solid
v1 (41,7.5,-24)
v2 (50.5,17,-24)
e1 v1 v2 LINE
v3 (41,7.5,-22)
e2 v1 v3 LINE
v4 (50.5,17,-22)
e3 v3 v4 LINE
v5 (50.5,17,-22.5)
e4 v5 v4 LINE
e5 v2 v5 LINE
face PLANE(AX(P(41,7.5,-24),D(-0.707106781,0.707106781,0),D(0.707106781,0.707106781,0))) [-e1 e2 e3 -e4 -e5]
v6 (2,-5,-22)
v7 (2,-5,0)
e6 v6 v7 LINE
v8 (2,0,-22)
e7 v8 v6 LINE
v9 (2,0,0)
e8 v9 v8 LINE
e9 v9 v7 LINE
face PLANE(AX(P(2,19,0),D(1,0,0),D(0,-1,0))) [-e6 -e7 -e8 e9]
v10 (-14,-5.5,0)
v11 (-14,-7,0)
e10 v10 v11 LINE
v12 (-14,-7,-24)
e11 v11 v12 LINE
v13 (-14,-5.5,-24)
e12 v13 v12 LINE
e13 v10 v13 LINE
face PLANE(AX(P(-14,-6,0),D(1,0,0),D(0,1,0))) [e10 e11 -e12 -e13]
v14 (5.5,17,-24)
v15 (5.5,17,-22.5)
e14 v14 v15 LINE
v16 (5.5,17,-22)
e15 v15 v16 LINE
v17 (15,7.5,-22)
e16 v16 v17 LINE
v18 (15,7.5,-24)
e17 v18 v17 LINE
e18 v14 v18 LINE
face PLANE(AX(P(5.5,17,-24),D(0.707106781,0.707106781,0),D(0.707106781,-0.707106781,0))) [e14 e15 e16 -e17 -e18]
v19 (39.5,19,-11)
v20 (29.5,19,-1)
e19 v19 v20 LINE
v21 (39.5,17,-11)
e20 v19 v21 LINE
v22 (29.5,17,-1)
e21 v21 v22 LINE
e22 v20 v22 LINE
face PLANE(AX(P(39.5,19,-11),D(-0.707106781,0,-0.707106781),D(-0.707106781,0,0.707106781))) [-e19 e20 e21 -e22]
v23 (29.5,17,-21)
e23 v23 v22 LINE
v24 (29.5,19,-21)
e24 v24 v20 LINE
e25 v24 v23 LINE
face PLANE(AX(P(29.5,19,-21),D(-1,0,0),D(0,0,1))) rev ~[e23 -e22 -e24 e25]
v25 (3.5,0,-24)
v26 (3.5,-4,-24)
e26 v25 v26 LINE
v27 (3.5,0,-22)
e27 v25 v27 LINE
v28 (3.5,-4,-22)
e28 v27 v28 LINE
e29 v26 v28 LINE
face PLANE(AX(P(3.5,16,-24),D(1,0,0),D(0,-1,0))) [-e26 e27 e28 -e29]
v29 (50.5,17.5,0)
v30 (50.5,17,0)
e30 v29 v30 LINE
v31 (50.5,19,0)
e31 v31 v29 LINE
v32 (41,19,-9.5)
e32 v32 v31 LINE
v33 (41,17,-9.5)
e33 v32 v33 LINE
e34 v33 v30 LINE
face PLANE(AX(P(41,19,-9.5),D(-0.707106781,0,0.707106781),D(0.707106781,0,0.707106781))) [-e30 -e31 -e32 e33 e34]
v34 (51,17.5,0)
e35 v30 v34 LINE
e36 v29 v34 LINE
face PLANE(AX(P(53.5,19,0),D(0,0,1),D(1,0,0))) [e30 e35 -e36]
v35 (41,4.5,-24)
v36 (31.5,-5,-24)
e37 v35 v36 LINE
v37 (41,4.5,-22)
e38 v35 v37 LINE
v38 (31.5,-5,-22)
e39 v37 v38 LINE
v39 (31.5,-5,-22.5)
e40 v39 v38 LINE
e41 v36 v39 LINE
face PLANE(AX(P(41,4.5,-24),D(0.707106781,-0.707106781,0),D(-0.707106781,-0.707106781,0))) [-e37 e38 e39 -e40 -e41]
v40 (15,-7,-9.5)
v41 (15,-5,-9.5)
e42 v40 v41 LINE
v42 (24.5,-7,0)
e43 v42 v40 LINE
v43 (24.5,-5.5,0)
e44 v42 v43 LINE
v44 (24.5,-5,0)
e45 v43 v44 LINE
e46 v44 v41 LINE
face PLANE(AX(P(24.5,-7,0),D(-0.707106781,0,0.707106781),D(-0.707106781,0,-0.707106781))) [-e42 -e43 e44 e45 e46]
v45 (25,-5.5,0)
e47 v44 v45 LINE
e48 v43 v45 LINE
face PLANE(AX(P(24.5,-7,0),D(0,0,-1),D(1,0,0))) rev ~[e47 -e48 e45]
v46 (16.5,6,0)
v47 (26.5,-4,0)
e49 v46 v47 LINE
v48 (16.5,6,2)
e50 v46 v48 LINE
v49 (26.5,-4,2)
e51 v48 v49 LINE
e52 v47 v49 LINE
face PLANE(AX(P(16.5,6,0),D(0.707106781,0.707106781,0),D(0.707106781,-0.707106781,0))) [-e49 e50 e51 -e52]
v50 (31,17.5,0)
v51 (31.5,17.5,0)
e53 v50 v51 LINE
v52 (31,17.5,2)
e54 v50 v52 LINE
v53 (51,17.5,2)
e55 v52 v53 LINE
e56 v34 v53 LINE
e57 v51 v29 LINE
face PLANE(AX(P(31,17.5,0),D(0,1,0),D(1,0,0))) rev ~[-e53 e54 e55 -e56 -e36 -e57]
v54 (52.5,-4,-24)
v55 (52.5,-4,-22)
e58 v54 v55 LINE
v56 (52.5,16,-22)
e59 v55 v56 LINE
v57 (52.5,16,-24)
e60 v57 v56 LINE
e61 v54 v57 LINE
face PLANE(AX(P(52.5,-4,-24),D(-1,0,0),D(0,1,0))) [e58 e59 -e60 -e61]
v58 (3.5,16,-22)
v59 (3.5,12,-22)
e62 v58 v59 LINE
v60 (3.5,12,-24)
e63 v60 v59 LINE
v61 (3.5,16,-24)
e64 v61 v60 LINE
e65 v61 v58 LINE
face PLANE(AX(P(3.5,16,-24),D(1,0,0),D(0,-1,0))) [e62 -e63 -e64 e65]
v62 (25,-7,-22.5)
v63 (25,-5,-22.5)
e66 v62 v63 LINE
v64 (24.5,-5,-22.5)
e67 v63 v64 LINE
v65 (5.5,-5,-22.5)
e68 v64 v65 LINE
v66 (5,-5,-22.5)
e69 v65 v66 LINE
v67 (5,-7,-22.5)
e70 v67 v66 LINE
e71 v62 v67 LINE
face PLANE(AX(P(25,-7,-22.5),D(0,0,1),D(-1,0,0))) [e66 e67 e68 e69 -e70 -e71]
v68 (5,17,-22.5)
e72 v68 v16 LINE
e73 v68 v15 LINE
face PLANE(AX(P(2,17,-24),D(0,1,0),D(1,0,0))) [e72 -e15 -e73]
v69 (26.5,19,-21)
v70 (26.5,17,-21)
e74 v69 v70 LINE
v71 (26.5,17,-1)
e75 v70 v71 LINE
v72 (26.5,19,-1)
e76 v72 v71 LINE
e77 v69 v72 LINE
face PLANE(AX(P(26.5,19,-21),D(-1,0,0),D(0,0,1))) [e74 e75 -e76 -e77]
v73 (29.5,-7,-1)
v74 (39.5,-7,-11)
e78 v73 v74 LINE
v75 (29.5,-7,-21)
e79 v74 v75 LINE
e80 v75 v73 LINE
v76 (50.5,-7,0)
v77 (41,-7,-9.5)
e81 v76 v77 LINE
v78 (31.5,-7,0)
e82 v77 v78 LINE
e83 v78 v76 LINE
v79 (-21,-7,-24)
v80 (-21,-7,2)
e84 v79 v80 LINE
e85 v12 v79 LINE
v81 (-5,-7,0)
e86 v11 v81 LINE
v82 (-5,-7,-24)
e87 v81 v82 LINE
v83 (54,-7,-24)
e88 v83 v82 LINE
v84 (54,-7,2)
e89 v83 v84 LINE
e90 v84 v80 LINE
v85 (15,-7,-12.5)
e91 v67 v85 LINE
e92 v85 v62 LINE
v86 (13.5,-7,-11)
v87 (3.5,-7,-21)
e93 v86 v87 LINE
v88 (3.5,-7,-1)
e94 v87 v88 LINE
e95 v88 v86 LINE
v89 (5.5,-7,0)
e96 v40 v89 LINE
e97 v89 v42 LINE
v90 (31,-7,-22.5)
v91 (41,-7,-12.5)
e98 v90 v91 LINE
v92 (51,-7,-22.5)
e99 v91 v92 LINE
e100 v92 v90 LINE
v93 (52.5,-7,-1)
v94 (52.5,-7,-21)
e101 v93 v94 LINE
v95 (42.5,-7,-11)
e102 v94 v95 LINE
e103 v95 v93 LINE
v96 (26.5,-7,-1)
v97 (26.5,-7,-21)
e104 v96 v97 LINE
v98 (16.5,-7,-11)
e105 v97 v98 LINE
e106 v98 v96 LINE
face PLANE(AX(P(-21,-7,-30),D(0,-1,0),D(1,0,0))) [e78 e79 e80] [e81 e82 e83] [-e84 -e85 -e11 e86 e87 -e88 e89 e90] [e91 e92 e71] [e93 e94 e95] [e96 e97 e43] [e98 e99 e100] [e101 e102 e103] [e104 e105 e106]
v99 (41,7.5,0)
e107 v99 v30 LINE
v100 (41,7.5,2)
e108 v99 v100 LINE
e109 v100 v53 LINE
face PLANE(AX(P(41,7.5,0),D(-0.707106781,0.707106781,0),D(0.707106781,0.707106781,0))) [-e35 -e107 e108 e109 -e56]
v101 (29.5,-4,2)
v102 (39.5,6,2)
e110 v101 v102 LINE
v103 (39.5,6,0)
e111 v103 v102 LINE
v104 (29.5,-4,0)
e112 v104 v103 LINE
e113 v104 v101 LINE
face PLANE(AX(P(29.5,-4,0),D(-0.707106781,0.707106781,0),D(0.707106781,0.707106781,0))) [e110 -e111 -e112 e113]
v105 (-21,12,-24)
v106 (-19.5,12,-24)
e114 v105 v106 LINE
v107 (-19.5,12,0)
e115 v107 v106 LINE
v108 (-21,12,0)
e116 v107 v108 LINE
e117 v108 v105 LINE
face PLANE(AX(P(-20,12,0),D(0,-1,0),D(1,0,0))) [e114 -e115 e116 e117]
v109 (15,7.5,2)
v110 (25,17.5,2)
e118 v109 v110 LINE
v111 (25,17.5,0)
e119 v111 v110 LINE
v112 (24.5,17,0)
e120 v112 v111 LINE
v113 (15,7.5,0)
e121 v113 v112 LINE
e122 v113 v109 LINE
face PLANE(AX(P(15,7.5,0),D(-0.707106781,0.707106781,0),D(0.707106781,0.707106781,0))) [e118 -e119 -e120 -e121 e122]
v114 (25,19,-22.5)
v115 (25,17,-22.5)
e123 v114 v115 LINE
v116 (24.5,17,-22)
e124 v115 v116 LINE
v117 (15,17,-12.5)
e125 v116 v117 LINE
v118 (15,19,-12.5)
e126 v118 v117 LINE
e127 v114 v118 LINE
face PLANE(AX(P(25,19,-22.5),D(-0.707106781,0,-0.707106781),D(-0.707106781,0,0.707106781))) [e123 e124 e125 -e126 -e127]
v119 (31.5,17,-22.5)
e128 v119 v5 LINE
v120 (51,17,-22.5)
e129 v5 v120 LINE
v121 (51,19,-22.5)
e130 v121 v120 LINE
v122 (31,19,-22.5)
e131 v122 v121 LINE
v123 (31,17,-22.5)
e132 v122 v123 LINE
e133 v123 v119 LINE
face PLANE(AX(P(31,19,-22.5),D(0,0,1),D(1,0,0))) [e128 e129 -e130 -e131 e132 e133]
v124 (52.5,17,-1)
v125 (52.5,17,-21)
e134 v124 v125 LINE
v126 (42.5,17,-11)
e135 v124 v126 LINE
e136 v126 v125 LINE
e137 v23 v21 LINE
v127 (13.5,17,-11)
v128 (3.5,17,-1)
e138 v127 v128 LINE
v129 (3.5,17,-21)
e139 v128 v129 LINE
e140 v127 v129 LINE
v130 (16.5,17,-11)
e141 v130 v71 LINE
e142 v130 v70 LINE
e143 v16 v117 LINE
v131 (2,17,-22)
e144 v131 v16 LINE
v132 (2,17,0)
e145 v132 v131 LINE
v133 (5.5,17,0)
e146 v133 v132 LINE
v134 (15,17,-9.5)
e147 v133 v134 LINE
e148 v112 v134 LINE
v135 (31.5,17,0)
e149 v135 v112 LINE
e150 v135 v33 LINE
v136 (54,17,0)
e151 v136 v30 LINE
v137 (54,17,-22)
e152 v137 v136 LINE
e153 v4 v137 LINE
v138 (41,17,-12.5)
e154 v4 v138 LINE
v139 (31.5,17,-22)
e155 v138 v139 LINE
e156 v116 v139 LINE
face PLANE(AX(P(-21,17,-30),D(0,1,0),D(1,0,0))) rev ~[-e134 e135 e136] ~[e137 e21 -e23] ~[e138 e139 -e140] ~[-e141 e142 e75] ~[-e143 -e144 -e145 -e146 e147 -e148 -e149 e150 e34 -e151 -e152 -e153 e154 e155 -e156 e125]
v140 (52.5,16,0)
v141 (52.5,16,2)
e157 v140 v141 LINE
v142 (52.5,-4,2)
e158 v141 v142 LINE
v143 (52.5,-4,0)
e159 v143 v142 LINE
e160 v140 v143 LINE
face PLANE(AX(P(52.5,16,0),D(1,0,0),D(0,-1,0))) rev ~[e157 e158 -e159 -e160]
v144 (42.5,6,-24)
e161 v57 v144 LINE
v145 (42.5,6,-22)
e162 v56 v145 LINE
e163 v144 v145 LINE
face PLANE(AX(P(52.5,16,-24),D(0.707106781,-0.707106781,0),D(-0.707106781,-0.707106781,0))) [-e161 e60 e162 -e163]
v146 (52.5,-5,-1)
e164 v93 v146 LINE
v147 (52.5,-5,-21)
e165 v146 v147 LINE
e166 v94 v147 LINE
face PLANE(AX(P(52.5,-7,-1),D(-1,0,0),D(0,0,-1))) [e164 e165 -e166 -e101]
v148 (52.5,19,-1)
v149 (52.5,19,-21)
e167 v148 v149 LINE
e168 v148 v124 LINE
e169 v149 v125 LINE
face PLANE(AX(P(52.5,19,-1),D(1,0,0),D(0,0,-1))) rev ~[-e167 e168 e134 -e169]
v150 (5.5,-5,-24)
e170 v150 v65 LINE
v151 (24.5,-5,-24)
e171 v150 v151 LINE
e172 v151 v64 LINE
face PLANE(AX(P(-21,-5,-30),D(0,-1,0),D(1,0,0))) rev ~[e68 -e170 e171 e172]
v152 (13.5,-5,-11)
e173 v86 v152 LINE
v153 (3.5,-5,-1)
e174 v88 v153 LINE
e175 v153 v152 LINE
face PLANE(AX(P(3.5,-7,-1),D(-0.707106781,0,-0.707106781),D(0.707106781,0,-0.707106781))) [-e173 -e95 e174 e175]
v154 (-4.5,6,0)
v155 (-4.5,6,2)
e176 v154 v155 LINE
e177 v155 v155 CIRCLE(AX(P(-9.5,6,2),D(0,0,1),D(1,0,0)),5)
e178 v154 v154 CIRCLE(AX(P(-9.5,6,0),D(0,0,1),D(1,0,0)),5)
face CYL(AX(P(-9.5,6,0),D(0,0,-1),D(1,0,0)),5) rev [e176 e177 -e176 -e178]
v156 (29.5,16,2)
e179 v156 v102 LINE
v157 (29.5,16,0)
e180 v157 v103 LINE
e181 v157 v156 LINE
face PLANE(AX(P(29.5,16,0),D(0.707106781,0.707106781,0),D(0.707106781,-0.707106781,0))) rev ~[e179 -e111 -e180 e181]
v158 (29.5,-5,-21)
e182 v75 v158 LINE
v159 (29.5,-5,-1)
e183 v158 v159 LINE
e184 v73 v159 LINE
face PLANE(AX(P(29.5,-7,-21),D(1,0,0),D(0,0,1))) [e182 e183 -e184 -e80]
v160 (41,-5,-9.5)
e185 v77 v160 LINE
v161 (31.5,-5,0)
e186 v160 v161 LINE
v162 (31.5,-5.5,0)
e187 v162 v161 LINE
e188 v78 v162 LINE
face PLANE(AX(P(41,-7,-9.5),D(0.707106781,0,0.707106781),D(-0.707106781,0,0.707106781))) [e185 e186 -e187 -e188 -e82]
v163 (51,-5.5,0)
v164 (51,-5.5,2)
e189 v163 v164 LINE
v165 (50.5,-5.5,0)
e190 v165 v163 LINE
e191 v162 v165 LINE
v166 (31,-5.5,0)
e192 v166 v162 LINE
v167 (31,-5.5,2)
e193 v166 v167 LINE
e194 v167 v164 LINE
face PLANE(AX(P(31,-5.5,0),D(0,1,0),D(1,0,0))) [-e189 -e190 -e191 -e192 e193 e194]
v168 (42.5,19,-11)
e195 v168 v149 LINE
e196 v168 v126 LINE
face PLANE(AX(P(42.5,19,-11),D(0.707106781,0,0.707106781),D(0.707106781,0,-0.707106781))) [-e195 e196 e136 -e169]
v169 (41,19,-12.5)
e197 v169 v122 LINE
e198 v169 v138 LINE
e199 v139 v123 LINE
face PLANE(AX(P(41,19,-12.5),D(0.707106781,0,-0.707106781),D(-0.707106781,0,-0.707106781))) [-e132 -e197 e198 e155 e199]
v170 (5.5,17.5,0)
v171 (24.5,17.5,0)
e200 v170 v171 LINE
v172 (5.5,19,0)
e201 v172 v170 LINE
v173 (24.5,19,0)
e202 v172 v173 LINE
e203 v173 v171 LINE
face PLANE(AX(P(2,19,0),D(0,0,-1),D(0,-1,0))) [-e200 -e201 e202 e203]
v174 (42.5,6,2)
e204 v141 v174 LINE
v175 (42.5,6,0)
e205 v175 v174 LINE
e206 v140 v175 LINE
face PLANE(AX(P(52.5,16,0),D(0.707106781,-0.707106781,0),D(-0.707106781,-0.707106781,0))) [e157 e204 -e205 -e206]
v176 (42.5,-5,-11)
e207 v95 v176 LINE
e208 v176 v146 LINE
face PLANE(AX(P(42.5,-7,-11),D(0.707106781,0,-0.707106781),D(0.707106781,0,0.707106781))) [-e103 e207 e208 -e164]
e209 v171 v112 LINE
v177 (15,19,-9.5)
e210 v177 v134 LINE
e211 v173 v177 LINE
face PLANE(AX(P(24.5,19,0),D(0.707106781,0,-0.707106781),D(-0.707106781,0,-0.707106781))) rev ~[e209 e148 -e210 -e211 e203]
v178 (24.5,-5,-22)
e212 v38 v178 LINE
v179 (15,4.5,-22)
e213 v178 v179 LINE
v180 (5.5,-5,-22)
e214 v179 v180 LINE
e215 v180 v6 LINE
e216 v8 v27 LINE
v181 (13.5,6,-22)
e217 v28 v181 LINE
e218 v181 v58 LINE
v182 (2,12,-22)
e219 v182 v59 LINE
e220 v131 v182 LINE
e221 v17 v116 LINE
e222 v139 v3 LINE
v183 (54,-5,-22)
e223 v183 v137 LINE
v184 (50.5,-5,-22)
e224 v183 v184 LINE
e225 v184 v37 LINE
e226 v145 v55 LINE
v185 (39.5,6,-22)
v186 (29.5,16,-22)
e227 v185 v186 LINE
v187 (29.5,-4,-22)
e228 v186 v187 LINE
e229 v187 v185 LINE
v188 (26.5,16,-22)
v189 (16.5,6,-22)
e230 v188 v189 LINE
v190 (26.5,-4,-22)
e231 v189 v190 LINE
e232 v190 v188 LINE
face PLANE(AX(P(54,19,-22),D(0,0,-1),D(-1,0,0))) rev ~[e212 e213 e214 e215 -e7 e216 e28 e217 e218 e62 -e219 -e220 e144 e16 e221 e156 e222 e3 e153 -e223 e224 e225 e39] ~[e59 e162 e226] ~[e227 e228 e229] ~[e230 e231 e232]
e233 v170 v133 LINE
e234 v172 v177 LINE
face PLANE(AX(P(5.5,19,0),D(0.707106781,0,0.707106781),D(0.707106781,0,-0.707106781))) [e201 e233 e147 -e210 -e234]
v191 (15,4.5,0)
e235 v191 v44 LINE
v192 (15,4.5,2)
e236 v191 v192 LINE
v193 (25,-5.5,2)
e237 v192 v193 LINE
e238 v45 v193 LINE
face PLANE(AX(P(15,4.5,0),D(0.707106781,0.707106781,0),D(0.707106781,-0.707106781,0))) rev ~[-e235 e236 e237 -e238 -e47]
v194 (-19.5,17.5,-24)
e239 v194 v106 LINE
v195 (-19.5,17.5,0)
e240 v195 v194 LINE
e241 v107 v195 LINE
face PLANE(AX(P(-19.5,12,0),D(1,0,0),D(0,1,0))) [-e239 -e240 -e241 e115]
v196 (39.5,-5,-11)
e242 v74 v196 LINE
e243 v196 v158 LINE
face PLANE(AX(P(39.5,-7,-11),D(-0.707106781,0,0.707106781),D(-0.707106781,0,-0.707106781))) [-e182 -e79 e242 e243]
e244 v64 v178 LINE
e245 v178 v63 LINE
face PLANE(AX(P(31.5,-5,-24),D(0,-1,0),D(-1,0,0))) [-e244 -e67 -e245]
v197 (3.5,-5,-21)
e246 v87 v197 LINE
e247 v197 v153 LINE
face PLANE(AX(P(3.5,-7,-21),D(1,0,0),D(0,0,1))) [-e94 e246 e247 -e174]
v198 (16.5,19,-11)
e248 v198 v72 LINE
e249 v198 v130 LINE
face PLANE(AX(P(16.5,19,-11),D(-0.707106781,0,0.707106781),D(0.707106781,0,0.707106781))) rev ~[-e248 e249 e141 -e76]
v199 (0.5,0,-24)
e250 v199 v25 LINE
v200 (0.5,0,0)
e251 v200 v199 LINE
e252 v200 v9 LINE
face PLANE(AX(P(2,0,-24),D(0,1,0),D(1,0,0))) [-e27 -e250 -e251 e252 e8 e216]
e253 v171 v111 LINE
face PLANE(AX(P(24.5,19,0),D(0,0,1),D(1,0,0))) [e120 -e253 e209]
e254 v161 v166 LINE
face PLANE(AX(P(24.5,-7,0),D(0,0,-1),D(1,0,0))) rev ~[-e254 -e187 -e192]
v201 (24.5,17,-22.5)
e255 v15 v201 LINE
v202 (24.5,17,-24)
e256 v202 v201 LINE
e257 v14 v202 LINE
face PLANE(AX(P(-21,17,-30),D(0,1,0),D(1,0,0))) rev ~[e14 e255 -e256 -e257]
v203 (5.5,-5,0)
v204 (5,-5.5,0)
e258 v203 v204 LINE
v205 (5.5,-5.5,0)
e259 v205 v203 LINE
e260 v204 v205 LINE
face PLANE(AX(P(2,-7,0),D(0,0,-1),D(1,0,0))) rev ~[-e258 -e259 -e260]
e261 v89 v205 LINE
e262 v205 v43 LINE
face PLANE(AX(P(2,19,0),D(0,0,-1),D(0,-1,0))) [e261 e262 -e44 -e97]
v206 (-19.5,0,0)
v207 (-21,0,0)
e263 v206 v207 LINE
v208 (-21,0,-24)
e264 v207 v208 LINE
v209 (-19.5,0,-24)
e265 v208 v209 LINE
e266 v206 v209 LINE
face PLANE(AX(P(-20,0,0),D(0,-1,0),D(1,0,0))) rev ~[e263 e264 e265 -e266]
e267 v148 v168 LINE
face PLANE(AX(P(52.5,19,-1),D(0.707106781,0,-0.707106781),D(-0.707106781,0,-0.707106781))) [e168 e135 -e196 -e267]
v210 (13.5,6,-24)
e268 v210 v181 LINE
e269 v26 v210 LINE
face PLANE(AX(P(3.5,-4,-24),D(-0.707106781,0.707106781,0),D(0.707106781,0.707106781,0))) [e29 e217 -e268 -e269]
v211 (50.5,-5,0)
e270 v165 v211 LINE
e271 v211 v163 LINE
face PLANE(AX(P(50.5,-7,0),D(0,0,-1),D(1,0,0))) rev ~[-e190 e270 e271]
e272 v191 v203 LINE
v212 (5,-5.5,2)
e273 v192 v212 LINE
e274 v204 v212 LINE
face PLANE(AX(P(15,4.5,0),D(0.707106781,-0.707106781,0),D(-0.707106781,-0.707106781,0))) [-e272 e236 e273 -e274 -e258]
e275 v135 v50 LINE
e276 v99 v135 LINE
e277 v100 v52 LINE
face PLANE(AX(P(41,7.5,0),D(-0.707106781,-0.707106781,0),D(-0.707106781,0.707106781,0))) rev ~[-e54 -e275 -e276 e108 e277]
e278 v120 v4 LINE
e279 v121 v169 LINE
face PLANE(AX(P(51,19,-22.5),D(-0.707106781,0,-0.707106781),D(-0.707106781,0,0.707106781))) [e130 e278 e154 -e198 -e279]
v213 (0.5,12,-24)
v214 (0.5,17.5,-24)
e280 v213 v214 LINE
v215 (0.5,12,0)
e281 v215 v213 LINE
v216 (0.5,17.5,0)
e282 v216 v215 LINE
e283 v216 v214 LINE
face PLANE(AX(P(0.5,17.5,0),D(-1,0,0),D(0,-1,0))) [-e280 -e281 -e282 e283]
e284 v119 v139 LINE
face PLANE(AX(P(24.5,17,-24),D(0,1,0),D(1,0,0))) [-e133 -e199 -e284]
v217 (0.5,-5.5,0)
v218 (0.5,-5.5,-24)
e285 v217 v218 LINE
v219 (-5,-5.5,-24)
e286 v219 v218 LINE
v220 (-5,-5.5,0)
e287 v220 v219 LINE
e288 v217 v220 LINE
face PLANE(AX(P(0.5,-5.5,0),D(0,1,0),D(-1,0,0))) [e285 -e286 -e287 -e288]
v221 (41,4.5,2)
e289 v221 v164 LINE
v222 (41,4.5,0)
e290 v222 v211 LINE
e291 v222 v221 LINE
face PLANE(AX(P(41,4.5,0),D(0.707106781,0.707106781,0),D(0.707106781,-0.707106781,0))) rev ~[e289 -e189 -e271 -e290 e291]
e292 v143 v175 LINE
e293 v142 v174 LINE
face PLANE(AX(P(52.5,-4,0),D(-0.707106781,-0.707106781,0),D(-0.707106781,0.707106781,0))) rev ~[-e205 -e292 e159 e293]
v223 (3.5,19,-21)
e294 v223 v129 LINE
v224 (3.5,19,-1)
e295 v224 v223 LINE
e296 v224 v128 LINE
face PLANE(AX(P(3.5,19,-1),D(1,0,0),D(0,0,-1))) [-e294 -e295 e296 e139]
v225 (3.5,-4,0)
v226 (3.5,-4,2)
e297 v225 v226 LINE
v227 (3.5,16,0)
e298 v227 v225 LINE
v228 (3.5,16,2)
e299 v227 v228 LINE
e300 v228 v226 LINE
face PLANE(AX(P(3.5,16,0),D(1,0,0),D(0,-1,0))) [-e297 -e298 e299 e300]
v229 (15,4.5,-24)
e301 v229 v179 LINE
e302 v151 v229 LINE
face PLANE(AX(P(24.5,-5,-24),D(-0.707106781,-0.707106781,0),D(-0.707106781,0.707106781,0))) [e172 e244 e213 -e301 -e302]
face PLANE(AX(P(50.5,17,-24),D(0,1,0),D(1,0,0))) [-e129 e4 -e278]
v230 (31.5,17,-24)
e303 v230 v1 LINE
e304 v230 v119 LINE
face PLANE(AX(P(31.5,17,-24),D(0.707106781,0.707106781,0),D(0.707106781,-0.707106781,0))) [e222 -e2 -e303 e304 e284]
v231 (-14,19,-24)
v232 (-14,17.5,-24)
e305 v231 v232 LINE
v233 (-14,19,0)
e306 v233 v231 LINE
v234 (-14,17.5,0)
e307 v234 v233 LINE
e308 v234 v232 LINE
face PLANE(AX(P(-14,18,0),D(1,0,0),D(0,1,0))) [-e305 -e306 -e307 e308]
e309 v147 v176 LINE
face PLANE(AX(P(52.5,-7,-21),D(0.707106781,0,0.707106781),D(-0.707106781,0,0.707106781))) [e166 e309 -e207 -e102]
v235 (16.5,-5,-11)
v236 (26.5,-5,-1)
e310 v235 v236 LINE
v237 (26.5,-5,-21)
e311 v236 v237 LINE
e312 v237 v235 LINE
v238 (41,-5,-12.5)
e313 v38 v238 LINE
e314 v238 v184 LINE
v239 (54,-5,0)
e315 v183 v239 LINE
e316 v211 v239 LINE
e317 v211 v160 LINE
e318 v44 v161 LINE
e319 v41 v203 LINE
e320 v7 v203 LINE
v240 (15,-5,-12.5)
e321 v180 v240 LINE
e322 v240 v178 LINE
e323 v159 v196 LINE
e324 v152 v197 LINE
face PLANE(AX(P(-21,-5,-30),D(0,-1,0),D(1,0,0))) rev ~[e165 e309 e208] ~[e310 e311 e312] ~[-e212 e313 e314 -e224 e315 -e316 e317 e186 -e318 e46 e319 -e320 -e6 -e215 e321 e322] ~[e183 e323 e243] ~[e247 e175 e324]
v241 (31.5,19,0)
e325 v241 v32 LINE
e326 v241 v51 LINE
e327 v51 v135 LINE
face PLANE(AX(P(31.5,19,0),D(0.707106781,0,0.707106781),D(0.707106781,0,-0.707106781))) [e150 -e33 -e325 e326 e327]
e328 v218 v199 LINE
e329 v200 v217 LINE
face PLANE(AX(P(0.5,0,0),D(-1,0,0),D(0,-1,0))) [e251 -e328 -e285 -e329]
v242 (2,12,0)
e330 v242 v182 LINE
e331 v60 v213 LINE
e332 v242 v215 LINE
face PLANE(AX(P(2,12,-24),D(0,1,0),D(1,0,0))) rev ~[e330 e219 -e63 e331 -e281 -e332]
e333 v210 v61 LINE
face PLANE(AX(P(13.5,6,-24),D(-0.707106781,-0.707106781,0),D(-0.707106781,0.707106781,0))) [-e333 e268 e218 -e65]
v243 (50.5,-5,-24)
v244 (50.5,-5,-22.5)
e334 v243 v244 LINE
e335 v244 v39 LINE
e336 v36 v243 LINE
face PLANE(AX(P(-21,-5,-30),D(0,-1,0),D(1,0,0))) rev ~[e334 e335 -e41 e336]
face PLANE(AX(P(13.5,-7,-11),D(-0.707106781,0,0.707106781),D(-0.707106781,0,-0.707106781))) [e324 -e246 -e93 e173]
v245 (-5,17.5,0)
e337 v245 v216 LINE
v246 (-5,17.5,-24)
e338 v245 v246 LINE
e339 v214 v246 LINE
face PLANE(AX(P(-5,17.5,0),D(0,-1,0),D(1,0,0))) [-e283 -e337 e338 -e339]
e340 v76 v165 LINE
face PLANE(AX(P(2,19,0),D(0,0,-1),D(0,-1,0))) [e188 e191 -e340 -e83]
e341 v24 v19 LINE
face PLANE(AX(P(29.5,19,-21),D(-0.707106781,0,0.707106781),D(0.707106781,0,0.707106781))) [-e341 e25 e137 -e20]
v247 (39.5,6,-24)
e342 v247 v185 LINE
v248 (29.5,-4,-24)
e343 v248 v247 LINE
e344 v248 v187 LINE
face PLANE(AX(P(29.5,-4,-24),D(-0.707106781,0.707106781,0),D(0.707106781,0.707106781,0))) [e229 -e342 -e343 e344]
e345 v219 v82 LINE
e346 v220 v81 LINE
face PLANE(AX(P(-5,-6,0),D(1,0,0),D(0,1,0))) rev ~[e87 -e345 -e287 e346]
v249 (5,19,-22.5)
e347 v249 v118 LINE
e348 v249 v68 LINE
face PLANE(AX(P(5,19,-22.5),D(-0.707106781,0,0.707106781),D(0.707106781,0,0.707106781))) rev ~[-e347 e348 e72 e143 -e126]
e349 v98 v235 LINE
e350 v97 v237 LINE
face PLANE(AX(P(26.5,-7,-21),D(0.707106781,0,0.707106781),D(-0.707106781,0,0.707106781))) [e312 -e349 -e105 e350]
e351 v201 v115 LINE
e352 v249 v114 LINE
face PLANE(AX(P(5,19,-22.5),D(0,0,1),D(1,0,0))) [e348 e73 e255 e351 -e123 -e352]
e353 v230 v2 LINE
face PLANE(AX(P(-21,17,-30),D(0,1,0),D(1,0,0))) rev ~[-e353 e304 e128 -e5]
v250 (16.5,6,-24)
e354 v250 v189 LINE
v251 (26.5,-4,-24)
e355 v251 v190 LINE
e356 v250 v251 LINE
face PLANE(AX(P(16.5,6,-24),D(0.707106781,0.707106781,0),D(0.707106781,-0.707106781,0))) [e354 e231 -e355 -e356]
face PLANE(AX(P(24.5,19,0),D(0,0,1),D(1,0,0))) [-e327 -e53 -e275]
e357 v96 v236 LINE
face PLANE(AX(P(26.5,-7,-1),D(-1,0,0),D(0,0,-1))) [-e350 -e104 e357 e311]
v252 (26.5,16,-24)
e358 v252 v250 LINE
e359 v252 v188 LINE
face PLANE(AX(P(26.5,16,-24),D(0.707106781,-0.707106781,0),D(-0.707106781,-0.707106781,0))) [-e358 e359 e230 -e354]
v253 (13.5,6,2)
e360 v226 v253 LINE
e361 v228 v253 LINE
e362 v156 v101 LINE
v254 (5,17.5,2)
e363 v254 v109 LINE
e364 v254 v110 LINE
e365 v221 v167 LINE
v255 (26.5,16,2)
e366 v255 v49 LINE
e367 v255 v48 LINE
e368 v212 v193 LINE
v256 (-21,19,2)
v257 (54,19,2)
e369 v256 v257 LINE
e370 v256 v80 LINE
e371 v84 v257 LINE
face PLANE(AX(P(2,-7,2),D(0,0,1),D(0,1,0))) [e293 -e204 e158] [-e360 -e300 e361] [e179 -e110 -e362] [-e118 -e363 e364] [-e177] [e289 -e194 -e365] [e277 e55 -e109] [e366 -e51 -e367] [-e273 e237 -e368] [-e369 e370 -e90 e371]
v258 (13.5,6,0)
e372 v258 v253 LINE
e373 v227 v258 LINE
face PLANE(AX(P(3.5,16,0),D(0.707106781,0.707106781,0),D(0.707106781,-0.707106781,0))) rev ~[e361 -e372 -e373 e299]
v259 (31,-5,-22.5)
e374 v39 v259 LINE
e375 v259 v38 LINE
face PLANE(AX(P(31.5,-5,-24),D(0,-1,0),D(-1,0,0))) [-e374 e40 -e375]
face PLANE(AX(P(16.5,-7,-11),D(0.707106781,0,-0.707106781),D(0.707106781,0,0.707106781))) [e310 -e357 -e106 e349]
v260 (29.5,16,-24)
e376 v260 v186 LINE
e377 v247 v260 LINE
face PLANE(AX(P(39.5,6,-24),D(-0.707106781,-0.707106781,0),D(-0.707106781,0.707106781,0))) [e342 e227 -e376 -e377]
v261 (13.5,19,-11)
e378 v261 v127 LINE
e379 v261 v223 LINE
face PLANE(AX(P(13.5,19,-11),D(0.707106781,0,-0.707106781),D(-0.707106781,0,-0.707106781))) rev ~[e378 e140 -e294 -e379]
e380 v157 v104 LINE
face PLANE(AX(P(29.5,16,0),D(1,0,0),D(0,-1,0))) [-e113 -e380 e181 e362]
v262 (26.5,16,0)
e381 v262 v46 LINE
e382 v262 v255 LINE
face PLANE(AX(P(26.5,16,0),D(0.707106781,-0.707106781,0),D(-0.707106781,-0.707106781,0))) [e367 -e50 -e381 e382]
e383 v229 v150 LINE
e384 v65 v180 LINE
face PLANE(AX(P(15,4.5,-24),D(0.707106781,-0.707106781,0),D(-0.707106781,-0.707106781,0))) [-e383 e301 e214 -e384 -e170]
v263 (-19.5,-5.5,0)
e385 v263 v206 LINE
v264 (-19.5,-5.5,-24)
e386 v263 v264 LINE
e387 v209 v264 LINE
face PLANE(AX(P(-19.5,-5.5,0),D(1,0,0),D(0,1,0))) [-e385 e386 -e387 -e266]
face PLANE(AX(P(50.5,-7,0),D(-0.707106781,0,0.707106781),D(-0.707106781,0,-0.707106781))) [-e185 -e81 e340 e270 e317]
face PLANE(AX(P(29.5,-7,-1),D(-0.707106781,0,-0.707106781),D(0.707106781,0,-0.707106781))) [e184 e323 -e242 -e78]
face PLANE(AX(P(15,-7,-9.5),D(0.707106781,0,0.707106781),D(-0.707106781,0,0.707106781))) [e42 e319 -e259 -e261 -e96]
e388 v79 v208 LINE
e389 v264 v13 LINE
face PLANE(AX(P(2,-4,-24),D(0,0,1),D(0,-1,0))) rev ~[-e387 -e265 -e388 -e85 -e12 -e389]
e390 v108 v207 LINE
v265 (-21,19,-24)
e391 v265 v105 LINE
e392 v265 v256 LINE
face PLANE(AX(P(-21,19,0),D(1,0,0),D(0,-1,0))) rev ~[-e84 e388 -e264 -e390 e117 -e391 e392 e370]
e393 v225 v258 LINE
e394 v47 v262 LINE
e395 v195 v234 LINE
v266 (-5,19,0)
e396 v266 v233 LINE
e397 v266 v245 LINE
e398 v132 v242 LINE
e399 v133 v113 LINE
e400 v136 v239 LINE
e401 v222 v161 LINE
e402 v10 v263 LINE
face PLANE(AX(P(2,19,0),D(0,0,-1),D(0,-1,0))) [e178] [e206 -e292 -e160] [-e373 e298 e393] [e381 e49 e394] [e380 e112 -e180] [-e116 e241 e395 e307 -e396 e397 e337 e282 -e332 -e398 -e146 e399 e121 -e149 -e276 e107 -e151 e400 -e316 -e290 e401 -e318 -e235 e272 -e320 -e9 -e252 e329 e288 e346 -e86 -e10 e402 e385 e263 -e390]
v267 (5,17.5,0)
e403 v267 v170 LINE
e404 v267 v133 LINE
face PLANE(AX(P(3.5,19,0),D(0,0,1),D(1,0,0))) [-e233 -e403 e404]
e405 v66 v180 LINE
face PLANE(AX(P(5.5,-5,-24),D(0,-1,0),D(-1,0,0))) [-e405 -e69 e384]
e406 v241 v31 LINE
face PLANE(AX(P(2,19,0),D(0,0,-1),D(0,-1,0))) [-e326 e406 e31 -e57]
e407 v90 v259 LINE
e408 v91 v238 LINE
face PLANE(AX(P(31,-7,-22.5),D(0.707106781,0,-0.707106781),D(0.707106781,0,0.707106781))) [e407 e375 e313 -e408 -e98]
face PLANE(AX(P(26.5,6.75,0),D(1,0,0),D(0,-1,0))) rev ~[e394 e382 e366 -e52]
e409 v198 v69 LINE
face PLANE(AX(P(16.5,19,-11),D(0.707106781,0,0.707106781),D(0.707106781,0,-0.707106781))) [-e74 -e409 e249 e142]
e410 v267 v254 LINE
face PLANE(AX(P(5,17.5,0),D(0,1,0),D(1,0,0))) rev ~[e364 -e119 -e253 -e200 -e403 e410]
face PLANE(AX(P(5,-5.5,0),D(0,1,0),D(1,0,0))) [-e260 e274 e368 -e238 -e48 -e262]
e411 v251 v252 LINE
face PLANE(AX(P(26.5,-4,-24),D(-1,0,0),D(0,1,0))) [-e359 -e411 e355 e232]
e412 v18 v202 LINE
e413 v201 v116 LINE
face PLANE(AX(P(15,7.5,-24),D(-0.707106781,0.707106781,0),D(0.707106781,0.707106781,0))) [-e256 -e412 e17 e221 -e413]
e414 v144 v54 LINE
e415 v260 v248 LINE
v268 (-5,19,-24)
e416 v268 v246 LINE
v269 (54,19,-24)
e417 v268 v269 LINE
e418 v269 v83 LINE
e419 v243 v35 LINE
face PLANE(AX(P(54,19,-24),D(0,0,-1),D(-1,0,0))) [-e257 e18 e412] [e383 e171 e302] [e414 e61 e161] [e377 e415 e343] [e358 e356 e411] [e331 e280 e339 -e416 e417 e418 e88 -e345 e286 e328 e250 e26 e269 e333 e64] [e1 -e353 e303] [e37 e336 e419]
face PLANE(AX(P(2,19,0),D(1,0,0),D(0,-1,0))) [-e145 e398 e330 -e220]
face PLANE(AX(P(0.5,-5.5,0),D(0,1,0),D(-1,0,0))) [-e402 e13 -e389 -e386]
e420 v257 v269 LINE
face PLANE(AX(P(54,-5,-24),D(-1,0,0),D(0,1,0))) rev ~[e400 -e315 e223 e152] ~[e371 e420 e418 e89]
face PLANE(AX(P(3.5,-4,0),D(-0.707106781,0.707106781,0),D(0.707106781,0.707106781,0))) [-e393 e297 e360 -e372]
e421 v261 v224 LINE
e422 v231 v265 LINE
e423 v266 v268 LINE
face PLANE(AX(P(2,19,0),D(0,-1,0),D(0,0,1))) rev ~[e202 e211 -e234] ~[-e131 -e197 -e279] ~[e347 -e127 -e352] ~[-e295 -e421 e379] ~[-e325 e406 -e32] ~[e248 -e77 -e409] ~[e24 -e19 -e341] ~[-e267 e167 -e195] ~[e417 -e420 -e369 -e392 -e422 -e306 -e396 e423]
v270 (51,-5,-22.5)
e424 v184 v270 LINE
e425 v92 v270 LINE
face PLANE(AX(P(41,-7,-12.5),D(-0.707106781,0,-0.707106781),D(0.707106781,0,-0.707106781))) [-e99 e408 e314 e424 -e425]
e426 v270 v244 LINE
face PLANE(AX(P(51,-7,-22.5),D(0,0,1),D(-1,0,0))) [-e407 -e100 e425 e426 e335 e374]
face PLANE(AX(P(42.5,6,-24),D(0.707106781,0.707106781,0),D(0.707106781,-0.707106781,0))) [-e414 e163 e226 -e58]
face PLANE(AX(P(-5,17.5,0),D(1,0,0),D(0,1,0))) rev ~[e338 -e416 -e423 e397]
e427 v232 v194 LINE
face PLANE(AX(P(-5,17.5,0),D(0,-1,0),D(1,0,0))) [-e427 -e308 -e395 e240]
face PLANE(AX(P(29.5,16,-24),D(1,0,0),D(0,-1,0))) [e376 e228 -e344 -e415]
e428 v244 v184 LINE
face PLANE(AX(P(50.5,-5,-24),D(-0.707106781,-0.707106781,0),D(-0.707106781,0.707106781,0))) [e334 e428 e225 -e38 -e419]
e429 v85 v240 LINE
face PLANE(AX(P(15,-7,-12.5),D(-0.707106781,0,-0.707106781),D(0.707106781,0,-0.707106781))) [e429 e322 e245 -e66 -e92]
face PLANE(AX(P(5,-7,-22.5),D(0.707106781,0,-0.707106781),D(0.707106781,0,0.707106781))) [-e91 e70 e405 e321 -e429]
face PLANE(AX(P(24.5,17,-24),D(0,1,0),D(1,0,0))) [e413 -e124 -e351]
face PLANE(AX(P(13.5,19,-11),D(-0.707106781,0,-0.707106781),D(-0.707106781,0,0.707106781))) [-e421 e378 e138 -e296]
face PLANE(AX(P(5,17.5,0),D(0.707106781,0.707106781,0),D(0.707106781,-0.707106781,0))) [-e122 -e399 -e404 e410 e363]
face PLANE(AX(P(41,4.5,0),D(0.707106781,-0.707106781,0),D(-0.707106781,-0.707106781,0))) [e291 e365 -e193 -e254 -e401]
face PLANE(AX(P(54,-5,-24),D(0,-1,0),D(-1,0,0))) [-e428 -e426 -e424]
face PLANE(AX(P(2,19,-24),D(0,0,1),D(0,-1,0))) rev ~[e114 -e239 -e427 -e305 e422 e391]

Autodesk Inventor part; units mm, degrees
ref_plane "YZ Plane" through (0, 0, 0) normal (1, 0, 0) x (0, 1, 0)
ref_plane "XZ Plane" through (0, 0, 0) normal (0, 1, 0) x (-1, 0, 0)
ref_plane "XY Plane" through (0, 0, 0) normal (0, 0, 1) x (1, 0, 0)
sketch "スケッチ1" plane through (0, 0, 0) normal (0, 0, 1) x (1, 0, 0)
  line L0 (0, -5) -> (-19, -5) projected
  line L1 (-19, 0) -> (-19, 12) projected
  line L2 (-19, 0) -> (-19, -5) projected
  line L3 (-19, 17) -> (-19, 12) projected
  line L4 (0, 17) -> (-19, 17) projected
  line L5 (0, 17) -> (0, 12) projected
  line L6 (0, 0) -> (0, 12) projected
  line L7 (0, 0) -> (0, -5) projected
  line L8 (-21, -7) -> (2, -7)
  line L9 (2, -7) -> (2, 19)
  line L10 (2, 19) -> (-21, 19)
  line L11 (-21, 19) -> (-21, -7)
  line L12 (-19, 4.1125) -> (-27, 4.1125) projected
  line L13 (-19, 7.8875) -> (-27, 7.8875) projected
  line L14 (0, 7.8875) -> (8, 7.8875) projected
  line L15 (0, 4.1125) -> (8, 4.1125) projected
  line L16 (-21, 19) -> (-21, 12)
  line L17 (-21, -7) -> (-21, 0)
  line L18 (2, 12) -> (0, 12)
  line L19 (2, 0) -> (0, 0)
  line L20 (2, -7) -> (-5, -7)
  line L21 (-21, -7) -> (-14, -7)
  line L22 (-5, 17) -> (-5, 19)
  line L23 (-14, 17) -> (-14, 19)
  line L24 (-21, 12) -> (-19, 12)
  line L25 (-21, 0) -> (-19, 0)
  line L26 (0, -7) -> (2, -5)
  line L27 (0, -5) -> (2, -7)
  line L28 (-20, 18) -> (1, 18)
  line L29 (1, 18) -> (1, -6)
  line L30 (1, -6) -> (-20, -6)
  line L31 (-20, -6) -> (-20, 18)
  line L32 (-20, 18) -> (-19, 17)
  line L33 (0, -5) -> (1, -6)
  line L34 (-19.5, 17.5) -> (0.5, 17.5)
  line L35 (0.5, 17.5) -> (0.5, -5.5)
  line L36 (0.5, -5.5) -> (-19.5, -5.5)
  line L37 (-19.5, -5.5) -> (-19.5, 17.5)
  line L38 (-14, -7) -> (-14, -5)
  line L39 (-5, -7) -> (-5, -5)
  point P0 (-21, 4.1125)
  point P1 (2, 4.1125)
  point P2 (2, 7.8875)
  point P3 (-21, 7.8875)
  point P4 (0.5, 12)
  point P5 (-19.5, 12)
  point P6 (0.5, 0)
  point P7 (-19.5, 0)
  point P8 (-14, -5.5)
  point P9 (-5, -5.5)
  point P10 (-14, 17.5)
  point P11 (-5, 17.5)
  dimension "d0" = 2
  dimension "d1" = 2
  dimension "d2" = 2
  dimension "d3" = 2
  dimension "d12" = 7
  dimension "d13" = 7
  dimension "d14" = 7
  dimension "d15" = 7
extrude "押し出し1" add sketch "スケッチ1" against normal blind 30 contours L35 L19 L29 L27 | L27 L30 L39 L36 | L27 L8 L26 | L29 L19 L9 L26 | L26 L9 L27 | L26 L8 L39 L30 | L38 L30 L31 L25 L37 L36 | L38 L8 L11 L25 L31 L30 | L35 L34 L22 L28 L29 L18 | L29 L28 L22 L10 L9 L18 | L24 L31 L32 L37 | L34 L32 L28 L23 | L24 L11 L10 L23 L28 L31
sketch "スケッチ2" plane through (0, 0, 0) normal (0, 0, 1) x (1, 0, 0)
  line L0 (-21, 19) -> (-21, -7) projected
  line L1 (2, 19) -> (2, -7) projected
  line L2 (-21, -7) -> (2, -7)
  line L3 (2, -7) -> (2, 19)
  line L4 (2, 19) -> (-21, 19)
  line L5 (-21, 19) -> (-21, -7)
  circle A0 centre (-9.5, 6) radius 5
  point P0 (0, 0)
  point P1 (-21, 4.1125)
  point P2 (2, 7.8875)
  point P3 (2, 7.8875)
  point P4 (-21, 4.1125)
  dimension "d11" = 10
extrude "押し出し2" add sketch "スケッチ2" along normal blind 2
sketch "スケッチ7" plane through (-14, -7, -30) normal (1, 0, 0) x (0, 0, -1)
  line L0 (0, 0) -> (-32, 0) projected
  line L1 (0, 7) -> (0, 0) projected
  line L2 (-30, 7) -> (0, 7) projected
  line L3 (-30, 7) -> (-30, 19) projected
  line L4 (-30, 19) -> (0, 19) projected
  line L5 (0, 26) -> (0, 19) projected
  line L6 (0, 26) -> (-32, 26) projected
  line L7 (-32, 0) -> (-32, 26) projected
  line L8 (0, 0) -> (-3, 0)
  line L9 (-3, 0) -> (-3, 26)
  line L10 (-3, 26) -> (0, 26)
  line L11 (0, 0) -> (0, 26)
  line L12 (-30, 19) -> (0, 19) projected
  line L13 (-3, 19) -> (0, 19)
  line L14 (-3, 7) -> (0, 7)
  line L15 (-30, 1.5) -> (0, 1.5) projected
  line L16 (-30, 24.5) -> (0, 24.5) projected
  point P0 (-30, 7)
  point P1 (-3, 1.5)
  point P2 (-3, 24.5)
  dimension "d21" = 3
extrude "押し出し6" add sketch "スケッチ7" along normal blind 10 contours L0 L9 L15 L1 | L6 L5 L16 L9
sketch "スケッチ8" plane through (2, -7, -30) normal (1, 0, 0) x (0, 0, -1)
  line L0 (0, 26) -> (-32, 26) projected
  line L1 (-32, 26) -> (-30, 26)
  line L2 (-30, 26) -> (-30, 0)
  line L3 (-30, 0) -> (-32, 0)
  line L4 (-32, 0) -> (-32, 26)
  point P0 (-30, 7)
extrude "押し出し7" add sketch "スケッチ8" along normal blind 52
sketch "スケッチ9" plane through (0, 0, 0) normal (0, 0, -1) x (-1, 0, 0)
  line L0 (21, 19) -> (-2, 19) projected
  line L1 (-54, 19) -> (-54, -7) projected
  line L2 (-2, 19) -> (-54, 19)
  line L3 (-54, 19) -> (-54, -7)
  line L4 (-54, -7) -> (-2, -7)
  line L5 (-2, -7) -> (-2, 19)
  line L6 (-28, 19) -> (-28, -7)
  line L7 (-0.5, 17.5) -> (-0.5, 12) projected
  line L8 (-0.5, 17.5) -> (-54, 17.5)
  line L9 (-2, 19) -> (-28, -7)
  line L10 (-2, -7) -> (-28, 19)
  line L11 (-28, 19) -> (-54, -7)
  line L12 (-28, -7) -> (-54, 19)
  line L13 (-0.5, -5.5) -> (-0.5, 0) projected
  line L14 (-0.5, -5.5) -> (-54, -5.5)
  line L15 (-52.5, 17.5) -> (-52.5, -5.5)
  line L16 (-3.5, 17.5) -> (-3.5, -5.5)
  line L17 (-28, 17.5) -> (-52.5, -7)
  line L18 (-54, -5.5) -> (-29.5, 19)
  line L19 (-28, 17.5) -> (-3.5, -7)
  line L20 (-2, -5.5) -> (-26.5, 19)
  line L21 (-2, 17.5) -> (-26.5, -7)
  line L22 (-3.5, 19) -> (-28, -5.5)
  line L23 (-28, -5.5) -> (-51, 17.5)
  line L24 (-52.5, 16) -> (-29.5, -7)
  line L25 (-27.25, 17.5) -> (-28.9392, 17.5)
  line L26 (-28, 6.75) -> (-26.5, 6.75)
  line L27 (-26.5, 6.75) -> (-26.5, 19)
  line L28 (-26.5, 6.75) -> (-26.5, -7)
  line L29 (-29.5, 19) -> (-29.5, -7)
  point P0 (0, 0)
  point P1 (-41, 7.5)
  point P2 (-31, 17.5)
  point P3 (-42.5, 6)
  point P4 (-52.5, -4)
  point P5 (-31, -5.5)
  point P6 (-41, 4.5)
  point P7 (-51, -5.5)
  point P8 (-15, 7.5)
  point P9 (-5, 17.5)
  point P10 (-25, 17.5)
  point P11 (-16.5, 6)
  point P12 (-39.5, 6)
  point P13 (-15, 4.5)
  point P14 (-25, -5.5)
  point P15 (-5, -5.5)
  point P16 (-3.5, 16)
  point P17 (-13.5, 6)
  point P18 (-3.5, -4)
  point P19 (-26.5, -4)
  point P20 (-26.5, 16)
  point P21 (-29.5, -4)
  point P22 (-29.5, 16)
extrude "押し出し8" cut sketch "スケッチ9" against normal blind 2 contours L18 L23 L8 | L24 L18 L15 | L29 L23 L17 | L17 L24 L14 | L8 L22 L20 | L19 L22 L28 L27 | L16 L20 L21 | L21 L19 L14
sketch "スケッチ10" plane through (0, 0, 0) normal (0, 0, -1) x (-1, 0, 0)
  line L0 (-3.5, 16) -> (-3.5, -4) projected
  line L1 (-3.5, -4) -> (-13.5, 6) projected
  line L2 (-13.5, 6) -> (-3.5, 16) projected
  line L3 (-42.5, 6) -> (-52.5, -4) projected
  line L4 (-52.5, -4) -> (-52.5, 16) projected
  line L5 (-52.5, 16) -> (-42.5, 6) projected
  line L6 (-31, -5.5) -> (-51, -5.5) projected
  line L7 (-51, -5.5) -> (-41, 4.5) projected
  line L8 (-41, 4.5) -> (-31, -5.5) projected
  line L9 (-26.5, 16) -> (-16.5, 6) projected
  line L10 (-16.5, 6) -> (-26.5, -4) projected
  line L11 (-26.5, -4) -> (-26.5, 16) projected
  line L12 (-15, 4.5) -> (-5, -5.5) projected
  line L13 (-5, -5.5) -> (-25, -5.5) projected
  line L14 (-25, -5.5) -> (-15, 4.5) projected
  line L15 (-51, 17.5) -> (-31, 17.5) projected
  line L16 (-31, 17.5) -> (-41, 7.5) projected
  line L17 (-41, 7.5) -> (-51, 17.5) projected
  line L18 (-15, 7.5) -> (-25, 17.5) projected
  line L19 (-25, 17.5) -> (-5, 17.5) projected
  line L20 (-5, 17.5) -> (-15, 7.5) projected
  line L21 (-29.5, -4) -> (-39.5, 6) projected
  line L22 (-39.5, 6) -> (-29.5, 16) projected
  line L23 (-29.5, 16) -> (-29.5, -4) projected
  line L24 (5, -5.5) -> (5, -7) projected
  line L25 (14, -7) -> (5, -7) projected
  line L26 (14, -7) -> (14, -5.5) projected
  line L27 (14, -5.5) -> (19.5, -5.5) projected
  line L28 (19.5, -5.5) -> (19.5, 0) projected
  line L29 (19.5, 0) -> (21, 0) projected
  line L30 (21, 12) -> (21, 0) projected
  line L31 (21, 12) -> (19.5, 12) projected
  line L32 (19.5, 12) -> (19.5, 17.5) projected
  line L33 (19.5, 17.5) -> (14, 17.5) projected
  line L34 (14, 17.5) -> (14, 19) projected
  line L35 (5, 19) -> (14, 19) projected
  line L36 (5, 19) -> (5, 17.5) projected
  line L37 (5, 17.5) -> (-0.5, 17.5) projected
  line L38 (-0.5, 17.5) -> (-0.5, 12) projected
  line L39 (-0.5, 12) -> (-2, 12) projected
  line L40 (-2, 19) -> (-2, 12) projected
  line L41 (-2, 19) -> (-54, 19) projected
  line L42 (-54, -7) -> (-54, 19) projected
  line L43 (-2, -7) -> (-54, -7) projected
  line L44 (-2, 0) -> (-2, -7) projected
  line L45 (-2, 0) -> (-0.5, 0) projected
  line L46 (-0.5, 0) -> (-0.5, -5.5) projected
  line L47 (-0.5, -5.5) -> (5, -5.5) projected
  circle A0 centre (9.5, 6) radius 5 projected
  line L48 (-2, 17.5) -> (-3.5, 17.5)
  line L49 (-3.5, 17.5) -> (-3.5, 19)
  line L50 (-26.5, 17.5) -> (-29.5, 17.5)
  line L51 (-29.5, 17.5) -> (-29.5, 19)
  line L52 (-26.5, 17.5) -> (-26.5, 19)
  line L53 (-52.5, 19) -> (-52.5, 17.5)
  line L54 (-52.5, 17.5) -> (-54, 17.5)
  line L55 (9.5, 6) -> (-54, 6)
  line L56 (-2, -7) -> (-2, 0)
  line L57 (-2, -7) -> (-54, -7)
  line L58 (-2, -5.5) -> (-3.5, -5.5)
  line L59 (-3.5, -5.5) -> (-3.5, -7)
  line L60 (-26.5, -5.5) -> (-29.5, -5.5)
  line L61 (-29.5, -5.5) -> (-29.5, -7)
  line L62 (-26.5, -5.5) -> (-26.5, -7)
  line L63 (-52.5, -7) -> (-52.5, -5.5)
  line L64 (-52.5, -5.5) -> (-54, -5.5)
  point P0 (0, 0)
sketch "スケッチ11" plane through (-21, 19, -30) normal (0, 1, 0) x (1, 0, 0)
  line L0 (24.5, -30) -> (24.5, -32) projected
  line L1 (23, -30) -> (75, -30) projected
  line L2 (36, -30) -> (36, -32) projected
  line L3 (23, -30) -> (36, -30)
  line L4 (0, -32) -> (75, -32) projected
  line L5 (23, -32) -> (23, -6)
  line L6 (23, -6) -> (75, -6)
  line L7 (75, -6) -> (75, -32)
  line L8 (23, -6) -> (23, -7.5)
  line L9 (23, -7.5) -> (75, -7.5)
  line L10 (73.5, -30) -> (73.5, -32) projected
  line L11 (73.5, -30) -> (73.5, -6)
  line L12 (24.5, -30) -> (24.5, -6)
  line L13 (49, -30) -> (49, -6)
  line L14 (49, -30) -> (49, -32)
  line L15 (23, -6) -> (49, -32)
  line L16 (75, -6) -> (49, -32)
  line L17 (49, -6) -> (23, -32)
  line L18 (49, -6) -> (75, -32)
  line L19 (24.5, -6) -> (49, -30.5)
  line L20 (73.5, -6) -> (49, -30.5)
  line L21 (50.5, -32) -> (75, -7.5)
  line L22 (47.5, -32) -> (23, -7.5)
  line L23 (24.5, -32) -> (49, -7.5)
  line L24 (49, -7.5) -> (73.5, -32)
  line L25 (75, -30.5) -> (50.5, -6)
  line L26 (47.5, -6) -> (23, -30.5)
  line L27 (47.5, -7.5) -> (47.5, -30.5)
  line L28 (50.5, -7.5) -> (50.5, -30.5)
  point P0 (21, -30)
  point P1 (73.5, -29)
  point P2 (63.5, -19)
  point P3 (73.5, -9)
  point P4 (52, -7.5)
  point P5 (72, -7.5)
  point P6 (62, -17.5)
  point P7 (46, -7.5)
  point P8 (36, -17.5)
  point P9 (26, -7.5)
  point P10 (26.5, -30)
  point P11 (36, -20.5)
  point P12 (45.5, -30)
  point P13 (48.5, -30)
  point P14 (37.5, -19)
  point P15 (60.5, -19)
  point P16 (49.5, -30)
  point P17 (52.5, -30)
  point P18 (62, -20.5)
  point P19 (71.5, -30)
  point P20 (34.5, -19)
  point P21 (24.5, -29)
  point P22 (24.5, -9)
  point P23 (50.5, -29)
  point P24 (50.5, -9)
  point P25 (47.5, -9)
  point P26 (47.5, -29)
  dimension "d28" = 26
  dimension "d29" = 1.5
extrude "押し出し9" add sketch "スケッチ11" against normal blind 2 contours L12 L26 L22 L17 L1 | L1 L26 L12 | L1 L5 L22 L12 L26 | L17 L22 L23 L1 | L22 L26 L15 L17 | L17 L15 L23 L22 | L22 L9 L12 | L12 L15 L26 L22 | L5 L15 L9 | L23 L15 L1 L22 | L17 L19 L23 L15 | L15 L26 L19 L17 | L12 L19 L9 | L15 L6 L12 | L9 L19 L26 L15 | L23 L19 L27 L1 L15 | L19 L26 L9 L17 | L17 L27 L23 L19 | L19 L6 L26 L9 | L17 L13 L9 | L9 L26 L6 L17 | L9 L23 L27 | L27 L19 L1 | L27 L23 L13 L1 L19 | L13 L18 L9 | L24 L28 L20 L1 L13 | L9 L28 L24 | L6 L25 L9 L18 | L1 L16 L24 L21 | L20 L28 L1 | L1 L28 L20 L24 L16 | L9 L25 L20 L18 | L18 L20 L24 L28 | L6 L20 L9 L25 | L24 L21 L18 L1 | L24 L16 L18 L21 | L24 L20 L18 L16 | L20 L25 L16 L18 | L6 L16 L11 | L11 L9 L20 | L11 L25 L1 | L1 L18 L21 L25 L11 | L18 L16 L25 L21 | L9 L16 L25 L20 | L7 L9 L16 | L9 L21 L11 | L11 L21 L25 L16 | L1 L25 L11 L21 L7
sketch "スケッチ12" plane through (-21, -7, -30) normal (0, -1, 0) x (1, 0, 0)
  line L0 (24.5, 29) -> (34.5, 19) projected
  line L1 (34.5, 19) -> (24.5, 9) projected
  line L2 (24.5, 9) -> (24.5, 29) projected
  line L3 (36, 20.5) -> (26.5, 30) projected
  line L4 (45.5, 30) -> (36, 20.5) projected
  line L5 (37.5, 19) -> (47.5, 29) projected
  line L6 (47.5, 29) -> (47.5, 9) projected
  line L7 (47.5, 9) -> (37.5, 19) projected
  line L8 (36, 17.5) -> (46, 7.5) projected
  line L9 (46, 7.5) -> (26, 7.5) projected
  line L10 (23, 6) -> (75, 6) projected
  line L11 (26, 7.5) -> (36, 17.5) projected
  line L12 (50.5, 9) -> (50.5, 29) projected
  line L13 (60.5, 19) -> (50.5, 9) projected
  line L14 (52, 7.5) -> (62, 17.5) projected
  line L15 (72, 7.5) -> (52, 7.5) projected
  line L16 (62, 17.5) -> (72, 7.5) projected
  line L17 (73.5, 9) -> (63.5, 19) projected
  line L18 (73.5, 29) -> (73.5, 9) projected
  line L19 (63.5, 19) -> (73.5, 29) projected
  line L20 (71.5, 30) -> (62, 20.5) projected
  line L21 (62, 20.5) -> (52.5, 30) projected
  line L22 (50.5, 29) -> (60.5, 19) projected
  line L23 (75, 6) -> (75, 30) projected
  line L24 (45.5, 30) -> (52.5, 30) projected
  line L25 (45.5, 30) -> (36, 20.5) projected
  line L26 (36, 20.5) -> (26.5, 30) projected
  line L27 (23, 30) -> (26.5, 30) projected
  line L28 (23, 6) -> (23, 30) projected
  line L29 (23, 6) -> (75, 6) projected
  line L30 (75, 6) -> (75, 30) projected
  line L31 (71.5, 30) -> (75, 30) projected
  line L32 (71.5, 30) -> (62, 20.5) projected
  line L33 (62, 20.5) -> (52.5, 30) projected
  line L34 (63.5, 19) -> (73.5, 29) projected
  line L35 (73.5, 29) -> (73.5, 9) projected
  line L36 (73.5, 9) -> (63.5, 19) projected
  line L37 (72, 7.5) -> (52, 7.5) projected
  line L38 (52, 7.5) -> (62, 17.5) projected
  line L39 (62, 17.5) -> (72, 7.5) projected
  line L40 (36, 17.5) -> (46, 7.5) projected
  line L41 (46, 7.5) -> (26, 7.5) projected
  line L42 (26, 7.5) -> (36, 17.5) projected
  line L43 (24.5, 29) -> (34.5, 19) projected
  line L44 (34.5, 19) -> (24.5, 9) projected
  line L45 (24.5, 9) -> (24.5, 29) projected
  line L46 (47.5, 29) -> (47.5, 9) projected
  line L47 (47.5, 9) -> (37.5, 19) projected
  line L48 (37.5, 19) -> (47.5, 29) projected
  line L49 (60.5, 19) -> (50.5, 9) projected
  line L50 (50.5, 9) -> (50.5, 29) projected
  line L51 (50.5, 29) -> (60.5, 19) projected
  point P0 (21, 30)
extrude "押し出し10" add sketch "スケッチ12" against normal blind 2
sketch "スケッチ13" plane through (54, 19, -24) normal (0, 0, -1) x (-1, 0, 0)
  line L0 (48.5, -24) -> (52, -24) projected
  line L1 (52, -19) -> (52, -24) projected
  line L2 (52, -19) -> (53.5, -19) projected
  line L3 (53.5, -19) -> (53.5, -24.5) projected
  line L4 (53.5, -24.5) -> (59, -24.5) projected
  line L5 (59, -24.5) -> (59, -26) projected
  line L6 (68, -26) -> (59, -26) projected
  line L7 (68, -26) -> (68, -24.5) projected
  line L8 (68, -24.5) -> (73.5, -24.5) projected
  line L9 (73.5, -24.5) -> (73.5, -19) projected
  line L10 (73.5, -19) -> (75, -19) projected
  line L11 (75, -7) -> (75, -19) projected
  line L12 (75, -7) -> (73.5, -7) projected
  line L13 (73.5, -7) -> (73.5, -1.5) projected
  line L14 (73.5, -1.5) -> (68, -1.5) projected
  line L15 (68, -1.5) -> (68, 0) projected
  line L16 (59, 0) -> (68, 0) projected
  line L17 (59, 0) -> (59, -1.5) projected
  line L18 (59, -1.5) -> (53.5, -1.5) projected
  line L19 (53.5, -1.5) -> (53.5, -7) projected
  line L20 (53.5, -7) -> (52, -7) projected
  line L21 (52, -2) -> (52, -7) projected
  line L22 (52, -2) -> (48.5, -2) projected
  line L23 (48.5, -2) -> (39, -11.5) projected
  line L24 (39, -11.5) -> (29.5, -2) projected
  line L25 (29.5, -2) -> (22.5, -2) projected
  line L26 (22.5, -2) -> (13, -11.5) projected
  line L27 (13, -11.5) -> (3.5, -2) projected
  line L28 (3.5, -2) -> (0, -2) projected
  line L29 (0, -24) -> (0, -2) projected
  line L30 (0, -24) -> (3.5, -24) projected
  line L31 (3.5, -24) -> (13, -14.5) projected
  line L32 (13, -14.5) -> (22.5, -24) projected
  line L33 (22.5, -24) -> (29.5, -24) projected
  line L34 (29.5, -24) -> (39, -14.5) projected
  line L35 (39, -14.5) -> (48.5, -24) projected
  circle A0 centre (63.5, -13) radius 5 projected
  line L36 (24.5, -23) -> (14.5, -13) projected
  line L37 (14.5, -13) -> (24.5, -3) projected
  line L38 (24.5, -3) -> (24.5, -23) projected
  line L39 (27.5, -3) -> (37.5, -13) projected
  line L40 (37.5, -13) -> (27.5, -23) projected
  line L41 (27.5, -23) -> (27.5, -3) projected
  line L42 (11.5, -13) -> (1.5, -23) projected
  line L43 (1.5, -23) -> (1.5, -3) projected
  line L44 (1.5, -3) -> (11.5, -13) projected
  line L45 (50.5, -3) -> (50.5, -23) projected
  line L46 (50.5, -23) -> (40.5, -13) projected
  line L47 (40.5, -13) -> (50.5, -3) projected
  line L48 (52, -7) -> (52, -19)
  point P0 (54, -19)
extrude "押し出し11" add sketch "スケッチ13" against normal blind 2 contours L35 L34 L33 L32 L31 L30 L29 L28 L27 L26 L25 L24 L23 L22 L21 L48 L1 L0
sketch "スケッチ14" plane through (54, -7, -24) normal (0, 0, -1) x (-1, 0, 0)
  line L0 (52, 7) -> (52, 19) projected
  line L1 (53.5, 7) -> (52, 7) projected
  line L2 (52, 19) -> (52, 7)
  line L3 (52, 7) -> (50.5, 7)
  line L4 (50.5, 23) -> (50.5, 3) projected
  line L5 (52, 19) -> (50.5, 19)
  line L6 (50.5, 19) -> (50.5, 7)
  point P0 (54, 7)
extrude "押し出し12" cut sketch "スケッチ14" against normal blind 2
sketch "スケッチ15" plane through (2, 12, -30) normal (1, 0, 0) x (0, 0, -1)
  line L0 (0, 7) -> (-6, 7) projected
  line L1 (0, -12) -> (0, -19) projected
  line L2 (0, 7) -> (0, -19)
  line L3 (0, -19) -> (-5.9318, -19)
  line L4 (-6, -16) -> (-6, 4) projected
  line L5 (0, 7) -> (-5.9318, 7)
  line L6 (-30, -19) -> (-3, -19) projected
  line L7 (-5.9702, -19) -> (-6, -19)
  line L8 (-6, 7) -> (-6, -19) projected
  line L9 (-6, -19) -> (-6, 7)
  line L10 (0, 7) -> (-32, 7) projected
  line L11 (-6, 7) -> (-5.4445, 7)
  point P0 (-30, -12)
extrude "押し出し13" cut sketch "スケッチ15" against normal blind 26
